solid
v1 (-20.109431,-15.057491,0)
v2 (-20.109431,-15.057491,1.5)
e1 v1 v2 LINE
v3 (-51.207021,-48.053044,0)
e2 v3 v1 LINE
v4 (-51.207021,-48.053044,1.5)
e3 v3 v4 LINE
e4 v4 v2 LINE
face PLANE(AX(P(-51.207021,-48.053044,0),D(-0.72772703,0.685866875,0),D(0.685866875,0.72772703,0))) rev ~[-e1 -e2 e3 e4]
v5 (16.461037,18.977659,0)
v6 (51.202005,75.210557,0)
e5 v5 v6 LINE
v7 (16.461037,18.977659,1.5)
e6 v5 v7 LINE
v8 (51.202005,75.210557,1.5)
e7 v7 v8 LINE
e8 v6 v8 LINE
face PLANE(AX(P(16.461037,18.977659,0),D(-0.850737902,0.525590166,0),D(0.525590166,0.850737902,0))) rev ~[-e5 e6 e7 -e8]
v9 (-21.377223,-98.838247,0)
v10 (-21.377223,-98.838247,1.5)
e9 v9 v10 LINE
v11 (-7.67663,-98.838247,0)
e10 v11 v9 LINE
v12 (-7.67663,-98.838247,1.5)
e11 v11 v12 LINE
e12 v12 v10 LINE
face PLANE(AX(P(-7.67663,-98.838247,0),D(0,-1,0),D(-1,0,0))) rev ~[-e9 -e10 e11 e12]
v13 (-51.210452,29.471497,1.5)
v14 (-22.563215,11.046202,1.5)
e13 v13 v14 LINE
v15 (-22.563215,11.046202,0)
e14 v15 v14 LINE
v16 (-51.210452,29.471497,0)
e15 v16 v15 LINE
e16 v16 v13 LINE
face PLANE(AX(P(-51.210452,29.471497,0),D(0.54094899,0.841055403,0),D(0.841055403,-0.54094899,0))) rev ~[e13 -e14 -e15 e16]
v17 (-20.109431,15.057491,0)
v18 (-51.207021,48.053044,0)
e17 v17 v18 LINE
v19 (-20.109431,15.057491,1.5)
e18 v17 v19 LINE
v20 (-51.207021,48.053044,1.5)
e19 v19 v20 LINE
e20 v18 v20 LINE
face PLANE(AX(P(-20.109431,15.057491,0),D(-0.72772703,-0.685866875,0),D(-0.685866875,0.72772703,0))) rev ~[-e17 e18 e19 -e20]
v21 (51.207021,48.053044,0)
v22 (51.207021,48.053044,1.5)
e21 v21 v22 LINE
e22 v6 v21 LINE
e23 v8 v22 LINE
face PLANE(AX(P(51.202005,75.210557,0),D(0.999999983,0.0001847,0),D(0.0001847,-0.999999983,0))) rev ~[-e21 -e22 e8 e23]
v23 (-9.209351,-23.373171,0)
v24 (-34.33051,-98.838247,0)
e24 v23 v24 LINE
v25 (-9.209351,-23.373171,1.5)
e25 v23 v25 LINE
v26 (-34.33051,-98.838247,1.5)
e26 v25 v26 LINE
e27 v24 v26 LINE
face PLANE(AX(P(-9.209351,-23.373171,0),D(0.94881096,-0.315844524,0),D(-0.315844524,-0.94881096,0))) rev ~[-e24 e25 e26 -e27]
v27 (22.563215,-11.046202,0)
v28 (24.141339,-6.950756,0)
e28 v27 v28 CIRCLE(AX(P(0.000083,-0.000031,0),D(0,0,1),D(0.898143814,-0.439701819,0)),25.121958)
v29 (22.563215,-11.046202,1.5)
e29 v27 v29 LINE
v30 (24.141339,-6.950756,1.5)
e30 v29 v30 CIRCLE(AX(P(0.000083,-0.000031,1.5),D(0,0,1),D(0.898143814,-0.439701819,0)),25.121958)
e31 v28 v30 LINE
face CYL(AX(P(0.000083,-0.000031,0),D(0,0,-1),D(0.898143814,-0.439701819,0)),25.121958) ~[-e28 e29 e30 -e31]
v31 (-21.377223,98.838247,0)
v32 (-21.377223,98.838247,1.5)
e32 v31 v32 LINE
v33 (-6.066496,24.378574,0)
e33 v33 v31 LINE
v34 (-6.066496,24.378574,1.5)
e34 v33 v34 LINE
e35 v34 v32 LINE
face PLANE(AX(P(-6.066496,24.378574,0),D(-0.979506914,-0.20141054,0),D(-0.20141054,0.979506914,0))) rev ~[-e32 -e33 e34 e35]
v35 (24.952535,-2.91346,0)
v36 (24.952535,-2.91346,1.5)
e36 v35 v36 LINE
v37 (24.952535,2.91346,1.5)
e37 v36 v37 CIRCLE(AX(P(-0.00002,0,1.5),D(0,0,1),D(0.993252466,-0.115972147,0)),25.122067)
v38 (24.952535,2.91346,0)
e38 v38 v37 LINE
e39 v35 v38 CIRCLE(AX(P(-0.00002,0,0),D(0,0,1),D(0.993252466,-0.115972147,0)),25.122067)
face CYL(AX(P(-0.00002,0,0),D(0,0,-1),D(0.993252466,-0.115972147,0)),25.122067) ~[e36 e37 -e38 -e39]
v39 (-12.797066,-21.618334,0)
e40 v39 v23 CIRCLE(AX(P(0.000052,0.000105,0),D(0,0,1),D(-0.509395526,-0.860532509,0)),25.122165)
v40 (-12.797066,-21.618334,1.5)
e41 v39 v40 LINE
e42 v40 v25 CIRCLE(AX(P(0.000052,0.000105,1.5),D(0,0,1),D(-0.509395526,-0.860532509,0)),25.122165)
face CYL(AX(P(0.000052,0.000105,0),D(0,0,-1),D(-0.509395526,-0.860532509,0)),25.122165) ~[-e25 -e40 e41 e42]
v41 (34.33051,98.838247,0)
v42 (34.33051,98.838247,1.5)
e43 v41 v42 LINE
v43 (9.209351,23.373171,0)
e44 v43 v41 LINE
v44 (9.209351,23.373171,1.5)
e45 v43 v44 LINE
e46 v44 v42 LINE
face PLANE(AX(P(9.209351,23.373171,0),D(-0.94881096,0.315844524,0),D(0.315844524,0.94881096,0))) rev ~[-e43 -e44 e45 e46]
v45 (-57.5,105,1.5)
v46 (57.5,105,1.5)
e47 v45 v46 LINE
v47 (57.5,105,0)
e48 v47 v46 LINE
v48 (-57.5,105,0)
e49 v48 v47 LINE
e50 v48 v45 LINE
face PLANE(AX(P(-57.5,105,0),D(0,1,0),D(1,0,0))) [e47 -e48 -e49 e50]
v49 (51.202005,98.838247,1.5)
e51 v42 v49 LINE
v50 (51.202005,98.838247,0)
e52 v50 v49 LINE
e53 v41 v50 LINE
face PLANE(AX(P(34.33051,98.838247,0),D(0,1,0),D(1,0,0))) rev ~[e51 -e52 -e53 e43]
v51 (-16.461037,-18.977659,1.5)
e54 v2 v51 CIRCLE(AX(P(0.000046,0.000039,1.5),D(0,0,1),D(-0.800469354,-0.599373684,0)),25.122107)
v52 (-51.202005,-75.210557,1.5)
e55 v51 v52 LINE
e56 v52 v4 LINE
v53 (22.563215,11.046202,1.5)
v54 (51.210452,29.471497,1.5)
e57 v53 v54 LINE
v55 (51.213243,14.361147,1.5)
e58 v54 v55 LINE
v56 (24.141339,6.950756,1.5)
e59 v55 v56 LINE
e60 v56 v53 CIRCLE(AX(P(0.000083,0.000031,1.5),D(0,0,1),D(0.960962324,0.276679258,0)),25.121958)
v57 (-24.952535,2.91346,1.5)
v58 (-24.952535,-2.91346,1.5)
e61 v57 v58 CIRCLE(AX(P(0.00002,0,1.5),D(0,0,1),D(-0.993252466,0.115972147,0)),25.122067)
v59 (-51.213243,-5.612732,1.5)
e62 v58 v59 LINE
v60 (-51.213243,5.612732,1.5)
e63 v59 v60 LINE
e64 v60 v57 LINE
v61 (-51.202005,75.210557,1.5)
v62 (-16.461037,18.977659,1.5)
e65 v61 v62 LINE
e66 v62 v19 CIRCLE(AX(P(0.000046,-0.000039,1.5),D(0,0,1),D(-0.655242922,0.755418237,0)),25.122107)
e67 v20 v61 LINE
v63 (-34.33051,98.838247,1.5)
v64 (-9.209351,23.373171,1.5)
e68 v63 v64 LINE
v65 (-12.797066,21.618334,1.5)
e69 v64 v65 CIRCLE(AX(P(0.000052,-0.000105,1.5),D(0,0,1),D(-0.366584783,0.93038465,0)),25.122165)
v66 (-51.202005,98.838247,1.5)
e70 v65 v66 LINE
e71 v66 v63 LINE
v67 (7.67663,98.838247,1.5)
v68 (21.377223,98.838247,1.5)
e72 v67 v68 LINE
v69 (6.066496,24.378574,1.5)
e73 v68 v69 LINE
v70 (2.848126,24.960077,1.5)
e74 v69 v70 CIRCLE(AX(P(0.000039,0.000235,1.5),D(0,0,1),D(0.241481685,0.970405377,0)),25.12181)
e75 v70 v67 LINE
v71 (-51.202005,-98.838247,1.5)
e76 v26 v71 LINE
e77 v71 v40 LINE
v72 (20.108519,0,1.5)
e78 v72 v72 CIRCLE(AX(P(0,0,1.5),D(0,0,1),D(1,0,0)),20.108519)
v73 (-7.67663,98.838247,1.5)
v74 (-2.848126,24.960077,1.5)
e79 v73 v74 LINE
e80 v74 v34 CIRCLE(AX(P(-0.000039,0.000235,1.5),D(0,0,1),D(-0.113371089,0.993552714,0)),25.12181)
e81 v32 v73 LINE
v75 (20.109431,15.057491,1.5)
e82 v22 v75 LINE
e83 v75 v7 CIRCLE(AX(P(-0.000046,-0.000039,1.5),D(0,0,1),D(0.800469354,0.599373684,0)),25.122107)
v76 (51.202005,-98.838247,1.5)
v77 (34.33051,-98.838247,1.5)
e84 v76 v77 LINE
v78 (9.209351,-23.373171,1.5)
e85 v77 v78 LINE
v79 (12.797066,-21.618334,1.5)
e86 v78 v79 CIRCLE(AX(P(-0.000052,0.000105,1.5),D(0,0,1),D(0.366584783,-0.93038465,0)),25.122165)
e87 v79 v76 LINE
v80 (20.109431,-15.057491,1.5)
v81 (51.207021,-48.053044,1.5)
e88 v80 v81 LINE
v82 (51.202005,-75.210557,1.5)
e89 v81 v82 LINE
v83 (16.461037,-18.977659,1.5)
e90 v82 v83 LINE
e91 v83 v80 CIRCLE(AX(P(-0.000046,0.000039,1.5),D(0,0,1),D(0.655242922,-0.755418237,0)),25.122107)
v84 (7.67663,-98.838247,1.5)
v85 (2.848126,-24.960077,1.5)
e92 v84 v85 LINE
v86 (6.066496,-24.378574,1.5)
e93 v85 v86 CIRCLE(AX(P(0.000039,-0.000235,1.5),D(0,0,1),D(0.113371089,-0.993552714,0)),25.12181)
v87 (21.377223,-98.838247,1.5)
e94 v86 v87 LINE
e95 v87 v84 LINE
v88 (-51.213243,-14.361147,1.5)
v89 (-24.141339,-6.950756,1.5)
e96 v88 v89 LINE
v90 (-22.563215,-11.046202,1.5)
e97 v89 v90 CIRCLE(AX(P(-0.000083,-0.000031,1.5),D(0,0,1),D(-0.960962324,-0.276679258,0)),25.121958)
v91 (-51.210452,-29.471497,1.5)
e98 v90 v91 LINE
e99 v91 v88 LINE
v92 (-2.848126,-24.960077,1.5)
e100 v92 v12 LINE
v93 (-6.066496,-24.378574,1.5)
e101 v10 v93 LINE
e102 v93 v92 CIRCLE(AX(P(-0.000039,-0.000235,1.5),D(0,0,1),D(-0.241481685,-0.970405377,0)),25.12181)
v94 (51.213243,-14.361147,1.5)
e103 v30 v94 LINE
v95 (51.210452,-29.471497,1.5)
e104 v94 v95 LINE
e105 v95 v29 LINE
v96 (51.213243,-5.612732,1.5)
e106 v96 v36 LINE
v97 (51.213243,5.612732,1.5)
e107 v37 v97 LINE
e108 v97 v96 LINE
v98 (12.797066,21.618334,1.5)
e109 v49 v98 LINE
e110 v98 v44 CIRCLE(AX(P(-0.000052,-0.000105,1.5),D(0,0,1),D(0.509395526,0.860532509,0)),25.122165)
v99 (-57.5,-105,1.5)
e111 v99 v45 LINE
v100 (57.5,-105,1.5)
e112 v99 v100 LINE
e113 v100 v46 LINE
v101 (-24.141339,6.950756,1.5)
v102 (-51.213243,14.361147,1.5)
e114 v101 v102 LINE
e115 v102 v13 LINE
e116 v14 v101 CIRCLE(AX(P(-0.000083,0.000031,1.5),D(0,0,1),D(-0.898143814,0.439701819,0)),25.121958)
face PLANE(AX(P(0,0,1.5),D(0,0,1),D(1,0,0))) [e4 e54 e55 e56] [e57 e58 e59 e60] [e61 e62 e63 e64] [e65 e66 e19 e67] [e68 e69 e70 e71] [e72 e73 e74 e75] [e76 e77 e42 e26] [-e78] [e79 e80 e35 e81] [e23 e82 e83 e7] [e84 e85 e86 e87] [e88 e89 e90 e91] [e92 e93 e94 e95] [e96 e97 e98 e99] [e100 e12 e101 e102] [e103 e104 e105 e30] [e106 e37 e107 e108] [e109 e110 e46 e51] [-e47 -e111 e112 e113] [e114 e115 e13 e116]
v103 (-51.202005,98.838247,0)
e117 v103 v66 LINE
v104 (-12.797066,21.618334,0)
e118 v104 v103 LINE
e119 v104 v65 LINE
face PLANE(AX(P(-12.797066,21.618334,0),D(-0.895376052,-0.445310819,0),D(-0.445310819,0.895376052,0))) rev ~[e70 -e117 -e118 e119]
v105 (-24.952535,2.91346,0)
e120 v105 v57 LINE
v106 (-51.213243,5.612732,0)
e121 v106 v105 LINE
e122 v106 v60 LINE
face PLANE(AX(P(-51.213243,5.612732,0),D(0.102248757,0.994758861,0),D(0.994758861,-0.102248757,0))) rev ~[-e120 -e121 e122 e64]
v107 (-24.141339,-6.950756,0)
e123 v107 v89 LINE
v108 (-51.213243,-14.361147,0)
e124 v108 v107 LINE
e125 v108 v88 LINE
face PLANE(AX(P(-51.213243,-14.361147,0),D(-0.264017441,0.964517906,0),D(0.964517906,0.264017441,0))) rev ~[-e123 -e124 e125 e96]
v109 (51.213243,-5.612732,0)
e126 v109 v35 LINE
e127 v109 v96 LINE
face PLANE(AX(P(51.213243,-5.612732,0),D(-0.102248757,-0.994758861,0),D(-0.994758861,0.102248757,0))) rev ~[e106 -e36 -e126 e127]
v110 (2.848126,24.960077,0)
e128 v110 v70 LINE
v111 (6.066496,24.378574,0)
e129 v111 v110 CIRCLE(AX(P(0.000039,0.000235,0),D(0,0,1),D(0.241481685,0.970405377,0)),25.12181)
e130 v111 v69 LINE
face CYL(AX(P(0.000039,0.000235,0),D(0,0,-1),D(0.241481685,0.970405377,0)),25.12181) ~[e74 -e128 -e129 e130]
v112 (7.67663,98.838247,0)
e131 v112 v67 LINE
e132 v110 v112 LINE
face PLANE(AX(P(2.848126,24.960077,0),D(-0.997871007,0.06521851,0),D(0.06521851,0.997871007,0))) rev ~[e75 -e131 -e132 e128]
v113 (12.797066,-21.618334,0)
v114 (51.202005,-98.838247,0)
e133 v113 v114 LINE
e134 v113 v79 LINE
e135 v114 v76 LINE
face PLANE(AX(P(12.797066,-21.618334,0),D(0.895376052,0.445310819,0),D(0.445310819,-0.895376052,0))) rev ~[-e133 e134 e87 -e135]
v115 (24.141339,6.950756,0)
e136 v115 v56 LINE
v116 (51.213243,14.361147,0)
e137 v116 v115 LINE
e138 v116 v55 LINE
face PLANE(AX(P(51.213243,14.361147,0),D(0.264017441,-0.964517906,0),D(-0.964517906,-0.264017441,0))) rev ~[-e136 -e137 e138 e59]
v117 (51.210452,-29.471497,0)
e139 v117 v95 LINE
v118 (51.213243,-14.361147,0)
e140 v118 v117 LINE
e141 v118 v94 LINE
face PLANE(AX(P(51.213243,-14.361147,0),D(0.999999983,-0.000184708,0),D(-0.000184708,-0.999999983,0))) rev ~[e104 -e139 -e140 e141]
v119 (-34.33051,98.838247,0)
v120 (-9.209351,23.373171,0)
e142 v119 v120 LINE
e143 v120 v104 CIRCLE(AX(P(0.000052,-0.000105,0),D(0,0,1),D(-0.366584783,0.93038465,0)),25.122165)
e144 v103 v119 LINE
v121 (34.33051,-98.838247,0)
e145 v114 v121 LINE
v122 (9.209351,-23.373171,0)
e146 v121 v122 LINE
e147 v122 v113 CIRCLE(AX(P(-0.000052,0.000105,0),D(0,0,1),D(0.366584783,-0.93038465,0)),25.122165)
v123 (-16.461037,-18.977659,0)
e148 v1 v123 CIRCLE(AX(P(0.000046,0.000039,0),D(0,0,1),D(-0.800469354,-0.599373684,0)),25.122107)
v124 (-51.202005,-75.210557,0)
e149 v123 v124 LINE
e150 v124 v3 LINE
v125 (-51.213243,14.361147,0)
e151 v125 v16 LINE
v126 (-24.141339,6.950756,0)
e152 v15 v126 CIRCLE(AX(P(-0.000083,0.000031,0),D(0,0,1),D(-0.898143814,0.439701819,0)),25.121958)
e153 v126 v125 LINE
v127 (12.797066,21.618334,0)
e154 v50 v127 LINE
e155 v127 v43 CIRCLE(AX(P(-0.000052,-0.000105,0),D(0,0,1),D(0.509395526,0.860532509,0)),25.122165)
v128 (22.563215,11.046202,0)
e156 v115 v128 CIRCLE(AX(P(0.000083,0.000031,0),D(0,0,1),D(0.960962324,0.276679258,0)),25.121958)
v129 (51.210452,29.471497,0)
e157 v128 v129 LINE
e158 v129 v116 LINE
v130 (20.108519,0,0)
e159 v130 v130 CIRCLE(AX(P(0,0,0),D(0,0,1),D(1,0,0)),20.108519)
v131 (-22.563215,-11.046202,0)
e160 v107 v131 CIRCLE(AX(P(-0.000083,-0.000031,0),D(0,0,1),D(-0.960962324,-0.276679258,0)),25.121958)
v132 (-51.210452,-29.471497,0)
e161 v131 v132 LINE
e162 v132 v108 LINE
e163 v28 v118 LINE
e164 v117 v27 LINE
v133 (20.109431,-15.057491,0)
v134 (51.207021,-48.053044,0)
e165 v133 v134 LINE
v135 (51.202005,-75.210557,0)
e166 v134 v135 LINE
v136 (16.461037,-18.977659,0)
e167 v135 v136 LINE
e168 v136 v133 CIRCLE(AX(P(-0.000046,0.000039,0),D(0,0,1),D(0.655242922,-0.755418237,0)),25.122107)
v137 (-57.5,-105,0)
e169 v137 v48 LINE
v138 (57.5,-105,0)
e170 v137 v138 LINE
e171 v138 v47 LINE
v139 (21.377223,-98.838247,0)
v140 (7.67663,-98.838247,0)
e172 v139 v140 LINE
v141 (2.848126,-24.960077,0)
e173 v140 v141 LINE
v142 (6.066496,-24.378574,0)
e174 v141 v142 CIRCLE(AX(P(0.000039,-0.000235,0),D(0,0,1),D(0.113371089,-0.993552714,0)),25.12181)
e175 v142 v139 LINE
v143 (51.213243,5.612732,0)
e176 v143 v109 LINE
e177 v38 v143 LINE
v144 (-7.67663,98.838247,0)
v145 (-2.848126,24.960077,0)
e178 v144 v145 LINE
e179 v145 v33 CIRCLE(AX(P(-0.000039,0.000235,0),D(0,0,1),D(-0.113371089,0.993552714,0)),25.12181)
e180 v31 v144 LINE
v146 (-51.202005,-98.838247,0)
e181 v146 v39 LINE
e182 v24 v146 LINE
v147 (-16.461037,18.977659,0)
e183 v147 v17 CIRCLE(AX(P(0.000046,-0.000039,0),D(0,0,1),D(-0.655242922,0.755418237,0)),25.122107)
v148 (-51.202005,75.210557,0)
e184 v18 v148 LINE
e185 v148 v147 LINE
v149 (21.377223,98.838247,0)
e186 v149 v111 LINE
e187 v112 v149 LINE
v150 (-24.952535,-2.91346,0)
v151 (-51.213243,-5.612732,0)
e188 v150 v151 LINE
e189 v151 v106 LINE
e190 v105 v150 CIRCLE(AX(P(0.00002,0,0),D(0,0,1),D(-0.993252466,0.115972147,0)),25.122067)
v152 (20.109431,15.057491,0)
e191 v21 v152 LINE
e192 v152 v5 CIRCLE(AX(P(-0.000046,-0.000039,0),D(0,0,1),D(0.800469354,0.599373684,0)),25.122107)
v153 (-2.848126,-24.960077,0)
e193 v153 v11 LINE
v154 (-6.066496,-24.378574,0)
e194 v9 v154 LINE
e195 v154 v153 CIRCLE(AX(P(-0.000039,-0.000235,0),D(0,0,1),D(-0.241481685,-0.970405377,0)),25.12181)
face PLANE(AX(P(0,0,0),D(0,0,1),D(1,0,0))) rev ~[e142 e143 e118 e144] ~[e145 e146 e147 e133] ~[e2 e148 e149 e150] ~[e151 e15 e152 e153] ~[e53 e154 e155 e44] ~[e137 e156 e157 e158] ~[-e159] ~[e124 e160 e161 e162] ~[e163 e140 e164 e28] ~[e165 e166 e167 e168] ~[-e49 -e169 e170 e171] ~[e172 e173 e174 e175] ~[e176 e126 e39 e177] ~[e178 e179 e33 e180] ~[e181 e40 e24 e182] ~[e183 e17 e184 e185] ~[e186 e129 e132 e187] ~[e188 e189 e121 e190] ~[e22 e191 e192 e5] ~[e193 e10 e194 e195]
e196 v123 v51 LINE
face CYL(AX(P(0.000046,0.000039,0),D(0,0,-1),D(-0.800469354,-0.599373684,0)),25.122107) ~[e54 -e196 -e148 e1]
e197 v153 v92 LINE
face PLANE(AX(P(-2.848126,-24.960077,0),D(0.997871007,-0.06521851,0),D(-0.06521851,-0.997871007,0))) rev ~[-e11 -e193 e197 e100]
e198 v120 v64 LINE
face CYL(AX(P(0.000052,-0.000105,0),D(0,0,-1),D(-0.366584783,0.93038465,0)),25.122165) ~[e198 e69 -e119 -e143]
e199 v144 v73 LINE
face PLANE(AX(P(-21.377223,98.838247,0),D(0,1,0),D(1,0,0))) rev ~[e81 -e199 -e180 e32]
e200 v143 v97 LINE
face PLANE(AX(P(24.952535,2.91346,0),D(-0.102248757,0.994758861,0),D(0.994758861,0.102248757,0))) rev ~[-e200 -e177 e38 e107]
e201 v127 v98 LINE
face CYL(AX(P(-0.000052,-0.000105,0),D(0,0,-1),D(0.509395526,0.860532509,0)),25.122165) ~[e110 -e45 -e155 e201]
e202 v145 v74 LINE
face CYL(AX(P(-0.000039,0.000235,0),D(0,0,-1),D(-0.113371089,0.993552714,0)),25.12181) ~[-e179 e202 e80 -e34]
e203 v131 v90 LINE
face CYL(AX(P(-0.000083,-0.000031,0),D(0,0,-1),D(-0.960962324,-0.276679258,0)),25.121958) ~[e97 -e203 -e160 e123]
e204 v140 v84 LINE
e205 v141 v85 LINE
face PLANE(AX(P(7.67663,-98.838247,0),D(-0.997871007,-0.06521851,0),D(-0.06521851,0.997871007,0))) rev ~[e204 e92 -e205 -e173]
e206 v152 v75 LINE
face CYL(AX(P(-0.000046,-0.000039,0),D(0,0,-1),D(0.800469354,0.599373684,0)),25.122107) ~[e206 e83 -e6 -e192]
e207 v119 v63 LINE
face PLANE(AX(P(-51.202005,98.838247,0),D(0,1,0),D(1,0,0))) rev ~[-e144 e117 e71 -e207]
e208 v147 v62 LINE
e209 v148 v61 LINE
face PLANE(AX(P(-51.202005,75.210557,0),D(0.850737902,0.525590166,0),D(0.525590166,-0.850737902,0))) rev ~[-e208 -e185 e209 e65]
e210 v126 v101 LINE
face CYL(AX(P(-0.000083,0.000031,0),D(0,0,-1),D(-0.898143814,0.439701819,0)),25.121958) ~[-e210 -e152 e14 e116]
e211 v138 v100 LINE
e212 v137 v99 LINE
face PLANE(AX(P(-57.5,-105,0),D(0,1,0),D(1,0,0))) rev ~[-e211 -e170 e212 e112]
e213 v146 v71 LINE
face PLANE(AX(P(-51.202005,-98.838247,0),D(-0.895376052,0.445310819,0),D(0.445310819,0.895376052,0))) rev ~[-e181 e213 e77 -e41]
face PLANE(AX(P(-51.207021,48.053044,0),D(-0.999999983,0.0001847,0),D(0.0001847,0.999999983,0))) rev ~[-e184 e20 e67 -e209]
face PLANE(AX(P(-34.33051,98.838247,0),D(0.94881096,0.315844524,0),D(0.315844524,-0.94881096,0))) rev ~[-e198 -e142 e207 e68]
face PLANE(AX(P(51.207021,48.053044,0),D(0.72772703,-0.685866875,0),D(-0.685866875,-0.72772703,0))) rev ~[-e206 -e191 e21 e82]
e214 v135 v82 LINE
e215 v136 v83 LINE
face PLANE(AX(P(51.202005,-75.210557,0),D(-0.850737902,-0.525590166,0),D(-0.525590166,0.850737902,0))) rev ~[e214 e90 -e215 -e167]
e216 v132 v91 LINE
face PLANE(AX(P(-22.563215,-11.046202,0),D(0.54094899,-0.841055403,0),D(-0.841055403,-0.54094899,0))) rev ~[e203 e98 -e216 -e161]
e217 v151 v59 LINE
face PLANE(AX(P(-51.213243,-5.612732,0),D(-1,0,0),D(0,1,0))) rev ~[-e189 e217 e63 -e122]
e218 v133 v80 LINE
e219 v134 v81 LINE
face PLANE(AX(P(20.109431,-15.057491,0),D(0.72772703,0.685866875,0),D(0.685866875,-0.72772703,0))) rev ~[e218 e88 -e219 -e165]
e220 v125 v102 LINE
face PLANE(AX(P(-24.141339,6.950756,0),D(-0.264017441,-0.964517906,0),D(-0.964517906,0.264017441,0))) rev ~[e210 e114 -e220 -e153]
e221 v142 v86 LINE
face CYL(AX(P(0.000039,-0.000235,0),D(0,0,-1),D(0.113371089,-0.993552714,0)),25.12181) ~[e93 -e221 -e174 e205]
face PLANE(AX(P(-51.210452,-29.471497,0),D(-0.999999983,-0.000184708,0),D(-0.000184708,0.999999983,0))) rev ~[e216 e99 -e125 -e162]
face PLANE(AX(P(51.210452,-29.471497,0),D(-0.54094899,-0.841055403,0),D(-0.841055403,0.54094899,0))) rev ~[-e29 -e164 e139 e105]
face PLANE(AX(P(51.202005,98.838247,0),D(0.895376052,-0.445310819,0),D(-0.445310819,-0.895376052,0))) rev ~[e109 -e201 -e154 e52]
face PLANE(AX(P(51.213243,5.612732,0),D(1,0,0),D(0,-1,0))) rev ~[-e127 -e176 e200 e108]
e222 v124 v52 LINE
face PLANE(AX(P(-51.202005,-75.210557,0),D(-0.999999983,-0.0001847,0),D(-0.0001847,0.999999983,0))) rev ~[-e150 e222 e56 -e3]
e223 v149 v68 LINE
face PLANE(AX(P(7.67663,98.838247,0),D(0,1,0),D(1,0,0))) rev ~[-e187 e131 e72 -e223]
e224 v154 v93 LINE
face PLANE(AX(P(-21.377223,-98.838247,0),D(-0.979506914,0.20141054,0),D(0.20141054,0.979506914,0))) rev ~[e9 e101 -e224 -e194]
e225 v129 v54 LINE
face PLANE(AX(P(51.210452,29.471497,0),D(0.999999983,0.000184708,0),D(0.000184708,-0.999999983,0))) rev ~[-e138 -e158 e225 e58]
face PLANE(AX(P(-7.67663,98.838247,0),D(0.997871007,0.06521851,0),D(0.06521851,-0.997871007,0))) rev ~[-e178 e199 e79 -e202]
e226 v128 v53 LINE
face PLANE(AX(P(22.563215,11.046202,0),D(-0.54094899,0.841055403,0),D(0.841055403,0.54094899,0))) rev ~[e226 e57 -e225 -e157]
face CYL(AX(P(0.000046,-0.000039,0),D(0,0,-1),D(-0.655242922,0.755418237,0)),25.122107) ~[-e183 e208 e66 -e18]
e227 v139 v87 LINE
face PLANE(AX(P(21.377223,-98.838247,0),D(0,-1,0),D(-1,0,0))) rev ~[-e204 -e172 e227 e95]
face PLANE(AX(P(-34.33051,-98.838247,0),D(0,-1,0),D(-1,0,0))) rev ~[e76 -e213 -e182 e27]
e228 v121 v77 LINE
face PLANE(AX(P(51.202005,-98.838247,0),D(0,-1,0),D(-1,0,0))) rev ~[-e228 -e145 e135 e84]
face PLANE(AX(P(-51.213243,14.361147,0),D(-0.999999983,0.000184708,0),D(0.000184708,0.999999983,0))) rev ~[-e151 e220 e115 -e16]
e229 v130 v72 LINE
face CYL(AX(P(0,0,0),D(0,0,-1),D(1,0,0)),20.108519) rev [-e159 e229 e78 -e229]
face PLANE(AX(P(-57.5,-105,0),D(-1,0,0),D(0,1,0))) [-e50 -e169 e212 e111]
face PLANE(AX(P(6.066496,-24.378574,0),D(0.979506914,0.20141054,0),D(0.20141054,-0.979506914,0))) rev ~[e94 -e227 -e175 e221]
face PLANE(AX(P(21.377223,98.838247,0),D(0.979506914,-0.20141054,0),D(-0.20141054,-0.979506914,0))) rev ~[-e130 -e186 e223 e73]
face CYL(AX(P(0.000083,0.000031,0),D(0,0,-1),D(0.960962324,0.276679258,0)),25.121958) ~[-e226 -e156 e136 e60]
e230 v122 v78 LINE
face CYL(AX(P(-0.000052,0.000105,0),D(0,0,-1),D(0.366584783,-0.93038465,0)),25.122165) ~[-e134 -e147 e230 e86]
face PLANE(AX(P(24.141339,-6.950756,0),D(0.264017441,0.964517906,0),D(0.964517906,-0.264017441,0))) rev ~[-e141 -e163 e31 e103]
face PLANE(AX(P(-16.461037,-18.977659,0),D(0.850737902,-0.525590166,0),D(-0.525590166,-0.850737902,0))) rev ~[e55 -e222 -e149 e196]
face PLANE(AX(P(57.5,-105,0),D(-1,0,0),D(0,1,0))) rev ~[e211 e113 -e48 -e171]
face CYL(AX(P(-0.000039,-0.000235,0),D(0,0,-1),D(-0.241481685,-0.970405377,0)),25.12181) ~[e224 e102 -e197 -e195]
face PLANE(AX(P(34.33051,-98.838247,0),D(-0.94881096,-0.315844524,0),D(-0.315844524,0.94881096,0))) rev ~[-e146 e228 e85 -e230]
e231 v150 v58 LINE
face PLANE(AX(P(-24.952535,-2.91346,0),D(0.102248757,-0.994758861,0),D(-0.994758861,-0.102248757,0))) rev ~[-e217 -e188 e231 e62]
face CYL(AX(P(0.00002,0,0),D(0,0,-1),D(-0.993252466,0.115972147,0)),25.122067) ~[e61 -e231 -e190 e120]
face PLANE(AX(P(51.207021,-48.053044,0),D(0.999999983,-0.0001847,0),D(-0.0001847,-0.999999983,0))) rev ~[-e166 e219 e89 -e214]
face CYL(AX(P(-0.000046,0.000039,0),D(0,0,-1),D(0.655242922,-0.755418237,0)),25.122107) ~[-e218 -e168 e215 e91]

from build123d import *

# Parameters (mm, degrees)
F0_W     = 115
F0_H     = 210
F0_R     = 20.108519
F1_DEPTH = 1.5


with BuildPart() as f1:
    # F0 (on Top) → F1 (new body)
    with BuildSketch(Plane.XY):
        Rectangle(F0_W, F0_H)
        with BuildLine():
            Line((-51.202005, -98.838247), (-12.797066, -21.618334))
            ThreePointArc((-12.797066, -21.618334), (-11.038136, -22.567162), (-9.209351, -23.373171))
            Line((-9.209351, -23.373171), (-34.33051, -98.838247))
            Line((-34.33051, -98.838247), (-51.202005, -98.838247))
        make_face(mode=Mode.SUBTRACT)
        with BuildLine():
            Line((-21.377223, -98.838247), (-6.066496, -24.378574))
            ThreePointArc((-6.066496, -24.378574), (-4.466784, -24.721754), (-2.848126, -24.960077))
            Line((-2.848126, -24.960077), (-7.67663, -98.838247))
            Line((-7.67663, -98.838247), (-21.377223, -98.838247))
        make_face(mode=Mode.SUBTRACT)
        with BuildLine():
            ThreePointArc((-20.109431, -15.057491), (-18.389989, -17.115068), (-16.461037, -18.977659))
            Line((-16.461037, -18.977659), (-51.202005, -75.210557))
            Line((-51.202005, -75.210557), (-51.207021, -48.053044))
            Line((-51.207021, -48.053044), (-20.109431, -15.057491))
        make_face(mode=Mode.SUBTRACT)
        with BuildLine():
            ThreePointArc((-24.141339, -6.950756), (-23.441886, -9.033009), (-22.563215, -11.046202))
            Line((-22.563215, -11.046202), (-51.210452, -29.471497))
            Line((-51.210452, -29.471497), (-51.213243, -14.361147))
            Line((-51.213243, -14.361147), (-24.141339, -6.950756))
        make_face(mode=Mode.SUBTRACT)
        with BuildLine():
            Line((7.67663, -98.838247), (2.848126, -24.960077))
            ThreePointArc((2.848126, -24.960077), (4.466784, -24.721754), (6.066496, -24.378574))
            Line((6.066496, -24.378574), (21.377223, -98.838247))
            Line((21.377223, -98.838247), (7.67663, -98.838247))
        make_face(mode=Mode.SUBTRACT)
        with BuildLine():
            Line((34.33051, -98.838247), (9.209351, -23.373171))
            ThreePointArc((9.209351, -23.373171), (11.038136, -22.567162), (12.797066, -21.618334))
            Line((12.797066, -21.618334), (51.202005, -98.838247))
            Line((51.202005, -98.838247), (34.33051, -98.838247))
        make_face(mode=Mode.SUBTRACT)
        with BuildLine():
            Line((51.202005, -75.210557), (16.461037, -18.977659))
            ThreePointArc((16.461037, -18.977659), (18.389989, -17.115068), (20.109431, -15.057491))
            Line((20.109431, -15.057491), (51.207021, -48.053044))
            Line((51.207021, -48.053044), (51.202005, -75.210557))
        make_face(mode=Mode.SUBTRACT)
        with BuildLine():
            Line((51.210452, -29.471497), (22.563215, -11.046202))
            ThreePointArc((22.563215, -11.046202), (23.441886, -9.033009), (24.141339, -6.950756))
            Line((24.141339, -6.950756), (51.213243, -14.361147))
            Line((51.213243, -14.361147), (51.210452, -29.471497))
        make_face(mode=Mode.SUBTRACT)
        with BuildLine():
            ThreePointArc((-24.952535, 2.91346), (-25.122047, 0), (-24.952535, -2.91346))
            Line((-24.952535, -2.91346), (-51.213243, -5.612732))
            Line((-51.213243, -5.612732), (-51.213243, 5.612732))
            Line((-51.213243, 5.612732), (-24.952535, 2.91346))
        make_face(mode=Mode.SUBTRACT)
        with BuildLine():
            Line((-51.210452, 29.471497), (-22.563215, 11.046202))
            ThreePointArc((-22.563215, 11.046202), (-23.441886, 9.033009), (-24.141339, 6.950756))
            Line((-24.141339, 6.950756), (-51.213243, 14.361147))
            Line((-51.213243, 14.361147), (-51.210452, 29.471497))
        make_face(mode=Mode.SUBTRACT)
        with BuildLine():
            Line((-51.202005, 75.210557), (-16.461037, 18.977659))
            ThreePointArc((-16.461037, 18.977659), (-18.389989, 17.115068), (-20.109431, 15.057491))
            Line((-20.109431, 15.057491), (-51.207021, 48.053044))
            Line((-51.207021, 48.053044), (-51.202005, 75.210557))
        make_face(mode=Mode.SUBTRACT)
        with BuildLine():
            Line((-34.33051, 98.838247), (-9.209351, 23.373171))
            ThreePointArc((-9.209351, 23.373171), (-11.038136, 22.567162), (-12.797066, 21.618334))
            Line((-12.797066, 21.618334), (-51.202005, 98.838247))
            Line((-51.202005, 98.838247), (-34.33051, 98.838247))
        make_face(mode=Mode.SUBTRACT)
        with BuildLine():
            Line((-7.67663, 98.838247), (-2.848126, 24.960077))
            ThreePointArc((-2.848126, 24.960077), (-4.466784, 24.721754), (-6.066496, 24.378574))
            Line((-6.066496, 24.378574), (-21.377223, 98.838247))
            Line((-21.377223, 98.838247), (-7.67663, 98.838247))
        make_face(mode=Mode.SUBTRACT)
        Circle(F0_R, mode=Mode.SUBTRACT)
        with BuildLine():
            ThreePointArc((24.952535, -2.91346), (25.122047, 0), (24.952535, 2.91346))
            Line((24.952535, 2.91346), (51.213243, 5.612732))
            Line((51.213243, 5.612732), (51.213243, -5.612732))
            Line((51.213243, -5.612732), (24.952535, -2.91346))
        make_face(mode=Mode.SUBTRACT)
        with BuildLine():
            ThreePointArc((24.141339, 6.950756), (23.441886, 9.033009), (22.563215, 11.046202))
            Line((22.563215, 11.046202), (51.210452, 29.471497))
            Line((51.210452, 29.471497), (51.213243, 14.361147))
            Line((51.213243, 14.361147), (24.141339, 6.950756))
        make_face(mode=Mode.SUBTRACT)
        with BuildLine():
            ThreePointArc((20.109431, 15.057491), (18.389989, 17.115068), (16.461037, 18.977659))
            Line((16.461037, 18.977659), (51.202005, 75.210557))
            Line((51.202005, 75.210557), (51.207021, 48.053044))
            Line((51.207021, 48.053044), (20.109431, 15.057491))
        make_face(mode=Mode.SUBTRACT)
        with BuildLine():
            ThreePointArc((6.066496, 24.378574), (4.466784, 24.721754), (2.848126, 24.960077))
            Line((2.848126, 24.960077), (7.67663, 98.838247))
            Line((7.67663, 98.838247), (21.377223, 98.838247))
            Line((21.377223, 98.838247), (6.066496, 24.378574))
        make_face(mode=Mode.SUBTRACT)
        with BuildLine():
            ThreePointArc((12.797066, 21.618334), (11.038136, 22.567162), (9.209351, 23.373171))
            Line((9.209351, 23.373171), (34.33051, 98.838247))
            Line((34.33051, 98.838247), (51.202005, 98.838247))
            Line((51.202005, 98.838247), (12.797066, 21.618334))
        make_face(mode=Mode.SUBTRACT)
    extrude(amount=F1_DEPTH)


solid = f1.part
